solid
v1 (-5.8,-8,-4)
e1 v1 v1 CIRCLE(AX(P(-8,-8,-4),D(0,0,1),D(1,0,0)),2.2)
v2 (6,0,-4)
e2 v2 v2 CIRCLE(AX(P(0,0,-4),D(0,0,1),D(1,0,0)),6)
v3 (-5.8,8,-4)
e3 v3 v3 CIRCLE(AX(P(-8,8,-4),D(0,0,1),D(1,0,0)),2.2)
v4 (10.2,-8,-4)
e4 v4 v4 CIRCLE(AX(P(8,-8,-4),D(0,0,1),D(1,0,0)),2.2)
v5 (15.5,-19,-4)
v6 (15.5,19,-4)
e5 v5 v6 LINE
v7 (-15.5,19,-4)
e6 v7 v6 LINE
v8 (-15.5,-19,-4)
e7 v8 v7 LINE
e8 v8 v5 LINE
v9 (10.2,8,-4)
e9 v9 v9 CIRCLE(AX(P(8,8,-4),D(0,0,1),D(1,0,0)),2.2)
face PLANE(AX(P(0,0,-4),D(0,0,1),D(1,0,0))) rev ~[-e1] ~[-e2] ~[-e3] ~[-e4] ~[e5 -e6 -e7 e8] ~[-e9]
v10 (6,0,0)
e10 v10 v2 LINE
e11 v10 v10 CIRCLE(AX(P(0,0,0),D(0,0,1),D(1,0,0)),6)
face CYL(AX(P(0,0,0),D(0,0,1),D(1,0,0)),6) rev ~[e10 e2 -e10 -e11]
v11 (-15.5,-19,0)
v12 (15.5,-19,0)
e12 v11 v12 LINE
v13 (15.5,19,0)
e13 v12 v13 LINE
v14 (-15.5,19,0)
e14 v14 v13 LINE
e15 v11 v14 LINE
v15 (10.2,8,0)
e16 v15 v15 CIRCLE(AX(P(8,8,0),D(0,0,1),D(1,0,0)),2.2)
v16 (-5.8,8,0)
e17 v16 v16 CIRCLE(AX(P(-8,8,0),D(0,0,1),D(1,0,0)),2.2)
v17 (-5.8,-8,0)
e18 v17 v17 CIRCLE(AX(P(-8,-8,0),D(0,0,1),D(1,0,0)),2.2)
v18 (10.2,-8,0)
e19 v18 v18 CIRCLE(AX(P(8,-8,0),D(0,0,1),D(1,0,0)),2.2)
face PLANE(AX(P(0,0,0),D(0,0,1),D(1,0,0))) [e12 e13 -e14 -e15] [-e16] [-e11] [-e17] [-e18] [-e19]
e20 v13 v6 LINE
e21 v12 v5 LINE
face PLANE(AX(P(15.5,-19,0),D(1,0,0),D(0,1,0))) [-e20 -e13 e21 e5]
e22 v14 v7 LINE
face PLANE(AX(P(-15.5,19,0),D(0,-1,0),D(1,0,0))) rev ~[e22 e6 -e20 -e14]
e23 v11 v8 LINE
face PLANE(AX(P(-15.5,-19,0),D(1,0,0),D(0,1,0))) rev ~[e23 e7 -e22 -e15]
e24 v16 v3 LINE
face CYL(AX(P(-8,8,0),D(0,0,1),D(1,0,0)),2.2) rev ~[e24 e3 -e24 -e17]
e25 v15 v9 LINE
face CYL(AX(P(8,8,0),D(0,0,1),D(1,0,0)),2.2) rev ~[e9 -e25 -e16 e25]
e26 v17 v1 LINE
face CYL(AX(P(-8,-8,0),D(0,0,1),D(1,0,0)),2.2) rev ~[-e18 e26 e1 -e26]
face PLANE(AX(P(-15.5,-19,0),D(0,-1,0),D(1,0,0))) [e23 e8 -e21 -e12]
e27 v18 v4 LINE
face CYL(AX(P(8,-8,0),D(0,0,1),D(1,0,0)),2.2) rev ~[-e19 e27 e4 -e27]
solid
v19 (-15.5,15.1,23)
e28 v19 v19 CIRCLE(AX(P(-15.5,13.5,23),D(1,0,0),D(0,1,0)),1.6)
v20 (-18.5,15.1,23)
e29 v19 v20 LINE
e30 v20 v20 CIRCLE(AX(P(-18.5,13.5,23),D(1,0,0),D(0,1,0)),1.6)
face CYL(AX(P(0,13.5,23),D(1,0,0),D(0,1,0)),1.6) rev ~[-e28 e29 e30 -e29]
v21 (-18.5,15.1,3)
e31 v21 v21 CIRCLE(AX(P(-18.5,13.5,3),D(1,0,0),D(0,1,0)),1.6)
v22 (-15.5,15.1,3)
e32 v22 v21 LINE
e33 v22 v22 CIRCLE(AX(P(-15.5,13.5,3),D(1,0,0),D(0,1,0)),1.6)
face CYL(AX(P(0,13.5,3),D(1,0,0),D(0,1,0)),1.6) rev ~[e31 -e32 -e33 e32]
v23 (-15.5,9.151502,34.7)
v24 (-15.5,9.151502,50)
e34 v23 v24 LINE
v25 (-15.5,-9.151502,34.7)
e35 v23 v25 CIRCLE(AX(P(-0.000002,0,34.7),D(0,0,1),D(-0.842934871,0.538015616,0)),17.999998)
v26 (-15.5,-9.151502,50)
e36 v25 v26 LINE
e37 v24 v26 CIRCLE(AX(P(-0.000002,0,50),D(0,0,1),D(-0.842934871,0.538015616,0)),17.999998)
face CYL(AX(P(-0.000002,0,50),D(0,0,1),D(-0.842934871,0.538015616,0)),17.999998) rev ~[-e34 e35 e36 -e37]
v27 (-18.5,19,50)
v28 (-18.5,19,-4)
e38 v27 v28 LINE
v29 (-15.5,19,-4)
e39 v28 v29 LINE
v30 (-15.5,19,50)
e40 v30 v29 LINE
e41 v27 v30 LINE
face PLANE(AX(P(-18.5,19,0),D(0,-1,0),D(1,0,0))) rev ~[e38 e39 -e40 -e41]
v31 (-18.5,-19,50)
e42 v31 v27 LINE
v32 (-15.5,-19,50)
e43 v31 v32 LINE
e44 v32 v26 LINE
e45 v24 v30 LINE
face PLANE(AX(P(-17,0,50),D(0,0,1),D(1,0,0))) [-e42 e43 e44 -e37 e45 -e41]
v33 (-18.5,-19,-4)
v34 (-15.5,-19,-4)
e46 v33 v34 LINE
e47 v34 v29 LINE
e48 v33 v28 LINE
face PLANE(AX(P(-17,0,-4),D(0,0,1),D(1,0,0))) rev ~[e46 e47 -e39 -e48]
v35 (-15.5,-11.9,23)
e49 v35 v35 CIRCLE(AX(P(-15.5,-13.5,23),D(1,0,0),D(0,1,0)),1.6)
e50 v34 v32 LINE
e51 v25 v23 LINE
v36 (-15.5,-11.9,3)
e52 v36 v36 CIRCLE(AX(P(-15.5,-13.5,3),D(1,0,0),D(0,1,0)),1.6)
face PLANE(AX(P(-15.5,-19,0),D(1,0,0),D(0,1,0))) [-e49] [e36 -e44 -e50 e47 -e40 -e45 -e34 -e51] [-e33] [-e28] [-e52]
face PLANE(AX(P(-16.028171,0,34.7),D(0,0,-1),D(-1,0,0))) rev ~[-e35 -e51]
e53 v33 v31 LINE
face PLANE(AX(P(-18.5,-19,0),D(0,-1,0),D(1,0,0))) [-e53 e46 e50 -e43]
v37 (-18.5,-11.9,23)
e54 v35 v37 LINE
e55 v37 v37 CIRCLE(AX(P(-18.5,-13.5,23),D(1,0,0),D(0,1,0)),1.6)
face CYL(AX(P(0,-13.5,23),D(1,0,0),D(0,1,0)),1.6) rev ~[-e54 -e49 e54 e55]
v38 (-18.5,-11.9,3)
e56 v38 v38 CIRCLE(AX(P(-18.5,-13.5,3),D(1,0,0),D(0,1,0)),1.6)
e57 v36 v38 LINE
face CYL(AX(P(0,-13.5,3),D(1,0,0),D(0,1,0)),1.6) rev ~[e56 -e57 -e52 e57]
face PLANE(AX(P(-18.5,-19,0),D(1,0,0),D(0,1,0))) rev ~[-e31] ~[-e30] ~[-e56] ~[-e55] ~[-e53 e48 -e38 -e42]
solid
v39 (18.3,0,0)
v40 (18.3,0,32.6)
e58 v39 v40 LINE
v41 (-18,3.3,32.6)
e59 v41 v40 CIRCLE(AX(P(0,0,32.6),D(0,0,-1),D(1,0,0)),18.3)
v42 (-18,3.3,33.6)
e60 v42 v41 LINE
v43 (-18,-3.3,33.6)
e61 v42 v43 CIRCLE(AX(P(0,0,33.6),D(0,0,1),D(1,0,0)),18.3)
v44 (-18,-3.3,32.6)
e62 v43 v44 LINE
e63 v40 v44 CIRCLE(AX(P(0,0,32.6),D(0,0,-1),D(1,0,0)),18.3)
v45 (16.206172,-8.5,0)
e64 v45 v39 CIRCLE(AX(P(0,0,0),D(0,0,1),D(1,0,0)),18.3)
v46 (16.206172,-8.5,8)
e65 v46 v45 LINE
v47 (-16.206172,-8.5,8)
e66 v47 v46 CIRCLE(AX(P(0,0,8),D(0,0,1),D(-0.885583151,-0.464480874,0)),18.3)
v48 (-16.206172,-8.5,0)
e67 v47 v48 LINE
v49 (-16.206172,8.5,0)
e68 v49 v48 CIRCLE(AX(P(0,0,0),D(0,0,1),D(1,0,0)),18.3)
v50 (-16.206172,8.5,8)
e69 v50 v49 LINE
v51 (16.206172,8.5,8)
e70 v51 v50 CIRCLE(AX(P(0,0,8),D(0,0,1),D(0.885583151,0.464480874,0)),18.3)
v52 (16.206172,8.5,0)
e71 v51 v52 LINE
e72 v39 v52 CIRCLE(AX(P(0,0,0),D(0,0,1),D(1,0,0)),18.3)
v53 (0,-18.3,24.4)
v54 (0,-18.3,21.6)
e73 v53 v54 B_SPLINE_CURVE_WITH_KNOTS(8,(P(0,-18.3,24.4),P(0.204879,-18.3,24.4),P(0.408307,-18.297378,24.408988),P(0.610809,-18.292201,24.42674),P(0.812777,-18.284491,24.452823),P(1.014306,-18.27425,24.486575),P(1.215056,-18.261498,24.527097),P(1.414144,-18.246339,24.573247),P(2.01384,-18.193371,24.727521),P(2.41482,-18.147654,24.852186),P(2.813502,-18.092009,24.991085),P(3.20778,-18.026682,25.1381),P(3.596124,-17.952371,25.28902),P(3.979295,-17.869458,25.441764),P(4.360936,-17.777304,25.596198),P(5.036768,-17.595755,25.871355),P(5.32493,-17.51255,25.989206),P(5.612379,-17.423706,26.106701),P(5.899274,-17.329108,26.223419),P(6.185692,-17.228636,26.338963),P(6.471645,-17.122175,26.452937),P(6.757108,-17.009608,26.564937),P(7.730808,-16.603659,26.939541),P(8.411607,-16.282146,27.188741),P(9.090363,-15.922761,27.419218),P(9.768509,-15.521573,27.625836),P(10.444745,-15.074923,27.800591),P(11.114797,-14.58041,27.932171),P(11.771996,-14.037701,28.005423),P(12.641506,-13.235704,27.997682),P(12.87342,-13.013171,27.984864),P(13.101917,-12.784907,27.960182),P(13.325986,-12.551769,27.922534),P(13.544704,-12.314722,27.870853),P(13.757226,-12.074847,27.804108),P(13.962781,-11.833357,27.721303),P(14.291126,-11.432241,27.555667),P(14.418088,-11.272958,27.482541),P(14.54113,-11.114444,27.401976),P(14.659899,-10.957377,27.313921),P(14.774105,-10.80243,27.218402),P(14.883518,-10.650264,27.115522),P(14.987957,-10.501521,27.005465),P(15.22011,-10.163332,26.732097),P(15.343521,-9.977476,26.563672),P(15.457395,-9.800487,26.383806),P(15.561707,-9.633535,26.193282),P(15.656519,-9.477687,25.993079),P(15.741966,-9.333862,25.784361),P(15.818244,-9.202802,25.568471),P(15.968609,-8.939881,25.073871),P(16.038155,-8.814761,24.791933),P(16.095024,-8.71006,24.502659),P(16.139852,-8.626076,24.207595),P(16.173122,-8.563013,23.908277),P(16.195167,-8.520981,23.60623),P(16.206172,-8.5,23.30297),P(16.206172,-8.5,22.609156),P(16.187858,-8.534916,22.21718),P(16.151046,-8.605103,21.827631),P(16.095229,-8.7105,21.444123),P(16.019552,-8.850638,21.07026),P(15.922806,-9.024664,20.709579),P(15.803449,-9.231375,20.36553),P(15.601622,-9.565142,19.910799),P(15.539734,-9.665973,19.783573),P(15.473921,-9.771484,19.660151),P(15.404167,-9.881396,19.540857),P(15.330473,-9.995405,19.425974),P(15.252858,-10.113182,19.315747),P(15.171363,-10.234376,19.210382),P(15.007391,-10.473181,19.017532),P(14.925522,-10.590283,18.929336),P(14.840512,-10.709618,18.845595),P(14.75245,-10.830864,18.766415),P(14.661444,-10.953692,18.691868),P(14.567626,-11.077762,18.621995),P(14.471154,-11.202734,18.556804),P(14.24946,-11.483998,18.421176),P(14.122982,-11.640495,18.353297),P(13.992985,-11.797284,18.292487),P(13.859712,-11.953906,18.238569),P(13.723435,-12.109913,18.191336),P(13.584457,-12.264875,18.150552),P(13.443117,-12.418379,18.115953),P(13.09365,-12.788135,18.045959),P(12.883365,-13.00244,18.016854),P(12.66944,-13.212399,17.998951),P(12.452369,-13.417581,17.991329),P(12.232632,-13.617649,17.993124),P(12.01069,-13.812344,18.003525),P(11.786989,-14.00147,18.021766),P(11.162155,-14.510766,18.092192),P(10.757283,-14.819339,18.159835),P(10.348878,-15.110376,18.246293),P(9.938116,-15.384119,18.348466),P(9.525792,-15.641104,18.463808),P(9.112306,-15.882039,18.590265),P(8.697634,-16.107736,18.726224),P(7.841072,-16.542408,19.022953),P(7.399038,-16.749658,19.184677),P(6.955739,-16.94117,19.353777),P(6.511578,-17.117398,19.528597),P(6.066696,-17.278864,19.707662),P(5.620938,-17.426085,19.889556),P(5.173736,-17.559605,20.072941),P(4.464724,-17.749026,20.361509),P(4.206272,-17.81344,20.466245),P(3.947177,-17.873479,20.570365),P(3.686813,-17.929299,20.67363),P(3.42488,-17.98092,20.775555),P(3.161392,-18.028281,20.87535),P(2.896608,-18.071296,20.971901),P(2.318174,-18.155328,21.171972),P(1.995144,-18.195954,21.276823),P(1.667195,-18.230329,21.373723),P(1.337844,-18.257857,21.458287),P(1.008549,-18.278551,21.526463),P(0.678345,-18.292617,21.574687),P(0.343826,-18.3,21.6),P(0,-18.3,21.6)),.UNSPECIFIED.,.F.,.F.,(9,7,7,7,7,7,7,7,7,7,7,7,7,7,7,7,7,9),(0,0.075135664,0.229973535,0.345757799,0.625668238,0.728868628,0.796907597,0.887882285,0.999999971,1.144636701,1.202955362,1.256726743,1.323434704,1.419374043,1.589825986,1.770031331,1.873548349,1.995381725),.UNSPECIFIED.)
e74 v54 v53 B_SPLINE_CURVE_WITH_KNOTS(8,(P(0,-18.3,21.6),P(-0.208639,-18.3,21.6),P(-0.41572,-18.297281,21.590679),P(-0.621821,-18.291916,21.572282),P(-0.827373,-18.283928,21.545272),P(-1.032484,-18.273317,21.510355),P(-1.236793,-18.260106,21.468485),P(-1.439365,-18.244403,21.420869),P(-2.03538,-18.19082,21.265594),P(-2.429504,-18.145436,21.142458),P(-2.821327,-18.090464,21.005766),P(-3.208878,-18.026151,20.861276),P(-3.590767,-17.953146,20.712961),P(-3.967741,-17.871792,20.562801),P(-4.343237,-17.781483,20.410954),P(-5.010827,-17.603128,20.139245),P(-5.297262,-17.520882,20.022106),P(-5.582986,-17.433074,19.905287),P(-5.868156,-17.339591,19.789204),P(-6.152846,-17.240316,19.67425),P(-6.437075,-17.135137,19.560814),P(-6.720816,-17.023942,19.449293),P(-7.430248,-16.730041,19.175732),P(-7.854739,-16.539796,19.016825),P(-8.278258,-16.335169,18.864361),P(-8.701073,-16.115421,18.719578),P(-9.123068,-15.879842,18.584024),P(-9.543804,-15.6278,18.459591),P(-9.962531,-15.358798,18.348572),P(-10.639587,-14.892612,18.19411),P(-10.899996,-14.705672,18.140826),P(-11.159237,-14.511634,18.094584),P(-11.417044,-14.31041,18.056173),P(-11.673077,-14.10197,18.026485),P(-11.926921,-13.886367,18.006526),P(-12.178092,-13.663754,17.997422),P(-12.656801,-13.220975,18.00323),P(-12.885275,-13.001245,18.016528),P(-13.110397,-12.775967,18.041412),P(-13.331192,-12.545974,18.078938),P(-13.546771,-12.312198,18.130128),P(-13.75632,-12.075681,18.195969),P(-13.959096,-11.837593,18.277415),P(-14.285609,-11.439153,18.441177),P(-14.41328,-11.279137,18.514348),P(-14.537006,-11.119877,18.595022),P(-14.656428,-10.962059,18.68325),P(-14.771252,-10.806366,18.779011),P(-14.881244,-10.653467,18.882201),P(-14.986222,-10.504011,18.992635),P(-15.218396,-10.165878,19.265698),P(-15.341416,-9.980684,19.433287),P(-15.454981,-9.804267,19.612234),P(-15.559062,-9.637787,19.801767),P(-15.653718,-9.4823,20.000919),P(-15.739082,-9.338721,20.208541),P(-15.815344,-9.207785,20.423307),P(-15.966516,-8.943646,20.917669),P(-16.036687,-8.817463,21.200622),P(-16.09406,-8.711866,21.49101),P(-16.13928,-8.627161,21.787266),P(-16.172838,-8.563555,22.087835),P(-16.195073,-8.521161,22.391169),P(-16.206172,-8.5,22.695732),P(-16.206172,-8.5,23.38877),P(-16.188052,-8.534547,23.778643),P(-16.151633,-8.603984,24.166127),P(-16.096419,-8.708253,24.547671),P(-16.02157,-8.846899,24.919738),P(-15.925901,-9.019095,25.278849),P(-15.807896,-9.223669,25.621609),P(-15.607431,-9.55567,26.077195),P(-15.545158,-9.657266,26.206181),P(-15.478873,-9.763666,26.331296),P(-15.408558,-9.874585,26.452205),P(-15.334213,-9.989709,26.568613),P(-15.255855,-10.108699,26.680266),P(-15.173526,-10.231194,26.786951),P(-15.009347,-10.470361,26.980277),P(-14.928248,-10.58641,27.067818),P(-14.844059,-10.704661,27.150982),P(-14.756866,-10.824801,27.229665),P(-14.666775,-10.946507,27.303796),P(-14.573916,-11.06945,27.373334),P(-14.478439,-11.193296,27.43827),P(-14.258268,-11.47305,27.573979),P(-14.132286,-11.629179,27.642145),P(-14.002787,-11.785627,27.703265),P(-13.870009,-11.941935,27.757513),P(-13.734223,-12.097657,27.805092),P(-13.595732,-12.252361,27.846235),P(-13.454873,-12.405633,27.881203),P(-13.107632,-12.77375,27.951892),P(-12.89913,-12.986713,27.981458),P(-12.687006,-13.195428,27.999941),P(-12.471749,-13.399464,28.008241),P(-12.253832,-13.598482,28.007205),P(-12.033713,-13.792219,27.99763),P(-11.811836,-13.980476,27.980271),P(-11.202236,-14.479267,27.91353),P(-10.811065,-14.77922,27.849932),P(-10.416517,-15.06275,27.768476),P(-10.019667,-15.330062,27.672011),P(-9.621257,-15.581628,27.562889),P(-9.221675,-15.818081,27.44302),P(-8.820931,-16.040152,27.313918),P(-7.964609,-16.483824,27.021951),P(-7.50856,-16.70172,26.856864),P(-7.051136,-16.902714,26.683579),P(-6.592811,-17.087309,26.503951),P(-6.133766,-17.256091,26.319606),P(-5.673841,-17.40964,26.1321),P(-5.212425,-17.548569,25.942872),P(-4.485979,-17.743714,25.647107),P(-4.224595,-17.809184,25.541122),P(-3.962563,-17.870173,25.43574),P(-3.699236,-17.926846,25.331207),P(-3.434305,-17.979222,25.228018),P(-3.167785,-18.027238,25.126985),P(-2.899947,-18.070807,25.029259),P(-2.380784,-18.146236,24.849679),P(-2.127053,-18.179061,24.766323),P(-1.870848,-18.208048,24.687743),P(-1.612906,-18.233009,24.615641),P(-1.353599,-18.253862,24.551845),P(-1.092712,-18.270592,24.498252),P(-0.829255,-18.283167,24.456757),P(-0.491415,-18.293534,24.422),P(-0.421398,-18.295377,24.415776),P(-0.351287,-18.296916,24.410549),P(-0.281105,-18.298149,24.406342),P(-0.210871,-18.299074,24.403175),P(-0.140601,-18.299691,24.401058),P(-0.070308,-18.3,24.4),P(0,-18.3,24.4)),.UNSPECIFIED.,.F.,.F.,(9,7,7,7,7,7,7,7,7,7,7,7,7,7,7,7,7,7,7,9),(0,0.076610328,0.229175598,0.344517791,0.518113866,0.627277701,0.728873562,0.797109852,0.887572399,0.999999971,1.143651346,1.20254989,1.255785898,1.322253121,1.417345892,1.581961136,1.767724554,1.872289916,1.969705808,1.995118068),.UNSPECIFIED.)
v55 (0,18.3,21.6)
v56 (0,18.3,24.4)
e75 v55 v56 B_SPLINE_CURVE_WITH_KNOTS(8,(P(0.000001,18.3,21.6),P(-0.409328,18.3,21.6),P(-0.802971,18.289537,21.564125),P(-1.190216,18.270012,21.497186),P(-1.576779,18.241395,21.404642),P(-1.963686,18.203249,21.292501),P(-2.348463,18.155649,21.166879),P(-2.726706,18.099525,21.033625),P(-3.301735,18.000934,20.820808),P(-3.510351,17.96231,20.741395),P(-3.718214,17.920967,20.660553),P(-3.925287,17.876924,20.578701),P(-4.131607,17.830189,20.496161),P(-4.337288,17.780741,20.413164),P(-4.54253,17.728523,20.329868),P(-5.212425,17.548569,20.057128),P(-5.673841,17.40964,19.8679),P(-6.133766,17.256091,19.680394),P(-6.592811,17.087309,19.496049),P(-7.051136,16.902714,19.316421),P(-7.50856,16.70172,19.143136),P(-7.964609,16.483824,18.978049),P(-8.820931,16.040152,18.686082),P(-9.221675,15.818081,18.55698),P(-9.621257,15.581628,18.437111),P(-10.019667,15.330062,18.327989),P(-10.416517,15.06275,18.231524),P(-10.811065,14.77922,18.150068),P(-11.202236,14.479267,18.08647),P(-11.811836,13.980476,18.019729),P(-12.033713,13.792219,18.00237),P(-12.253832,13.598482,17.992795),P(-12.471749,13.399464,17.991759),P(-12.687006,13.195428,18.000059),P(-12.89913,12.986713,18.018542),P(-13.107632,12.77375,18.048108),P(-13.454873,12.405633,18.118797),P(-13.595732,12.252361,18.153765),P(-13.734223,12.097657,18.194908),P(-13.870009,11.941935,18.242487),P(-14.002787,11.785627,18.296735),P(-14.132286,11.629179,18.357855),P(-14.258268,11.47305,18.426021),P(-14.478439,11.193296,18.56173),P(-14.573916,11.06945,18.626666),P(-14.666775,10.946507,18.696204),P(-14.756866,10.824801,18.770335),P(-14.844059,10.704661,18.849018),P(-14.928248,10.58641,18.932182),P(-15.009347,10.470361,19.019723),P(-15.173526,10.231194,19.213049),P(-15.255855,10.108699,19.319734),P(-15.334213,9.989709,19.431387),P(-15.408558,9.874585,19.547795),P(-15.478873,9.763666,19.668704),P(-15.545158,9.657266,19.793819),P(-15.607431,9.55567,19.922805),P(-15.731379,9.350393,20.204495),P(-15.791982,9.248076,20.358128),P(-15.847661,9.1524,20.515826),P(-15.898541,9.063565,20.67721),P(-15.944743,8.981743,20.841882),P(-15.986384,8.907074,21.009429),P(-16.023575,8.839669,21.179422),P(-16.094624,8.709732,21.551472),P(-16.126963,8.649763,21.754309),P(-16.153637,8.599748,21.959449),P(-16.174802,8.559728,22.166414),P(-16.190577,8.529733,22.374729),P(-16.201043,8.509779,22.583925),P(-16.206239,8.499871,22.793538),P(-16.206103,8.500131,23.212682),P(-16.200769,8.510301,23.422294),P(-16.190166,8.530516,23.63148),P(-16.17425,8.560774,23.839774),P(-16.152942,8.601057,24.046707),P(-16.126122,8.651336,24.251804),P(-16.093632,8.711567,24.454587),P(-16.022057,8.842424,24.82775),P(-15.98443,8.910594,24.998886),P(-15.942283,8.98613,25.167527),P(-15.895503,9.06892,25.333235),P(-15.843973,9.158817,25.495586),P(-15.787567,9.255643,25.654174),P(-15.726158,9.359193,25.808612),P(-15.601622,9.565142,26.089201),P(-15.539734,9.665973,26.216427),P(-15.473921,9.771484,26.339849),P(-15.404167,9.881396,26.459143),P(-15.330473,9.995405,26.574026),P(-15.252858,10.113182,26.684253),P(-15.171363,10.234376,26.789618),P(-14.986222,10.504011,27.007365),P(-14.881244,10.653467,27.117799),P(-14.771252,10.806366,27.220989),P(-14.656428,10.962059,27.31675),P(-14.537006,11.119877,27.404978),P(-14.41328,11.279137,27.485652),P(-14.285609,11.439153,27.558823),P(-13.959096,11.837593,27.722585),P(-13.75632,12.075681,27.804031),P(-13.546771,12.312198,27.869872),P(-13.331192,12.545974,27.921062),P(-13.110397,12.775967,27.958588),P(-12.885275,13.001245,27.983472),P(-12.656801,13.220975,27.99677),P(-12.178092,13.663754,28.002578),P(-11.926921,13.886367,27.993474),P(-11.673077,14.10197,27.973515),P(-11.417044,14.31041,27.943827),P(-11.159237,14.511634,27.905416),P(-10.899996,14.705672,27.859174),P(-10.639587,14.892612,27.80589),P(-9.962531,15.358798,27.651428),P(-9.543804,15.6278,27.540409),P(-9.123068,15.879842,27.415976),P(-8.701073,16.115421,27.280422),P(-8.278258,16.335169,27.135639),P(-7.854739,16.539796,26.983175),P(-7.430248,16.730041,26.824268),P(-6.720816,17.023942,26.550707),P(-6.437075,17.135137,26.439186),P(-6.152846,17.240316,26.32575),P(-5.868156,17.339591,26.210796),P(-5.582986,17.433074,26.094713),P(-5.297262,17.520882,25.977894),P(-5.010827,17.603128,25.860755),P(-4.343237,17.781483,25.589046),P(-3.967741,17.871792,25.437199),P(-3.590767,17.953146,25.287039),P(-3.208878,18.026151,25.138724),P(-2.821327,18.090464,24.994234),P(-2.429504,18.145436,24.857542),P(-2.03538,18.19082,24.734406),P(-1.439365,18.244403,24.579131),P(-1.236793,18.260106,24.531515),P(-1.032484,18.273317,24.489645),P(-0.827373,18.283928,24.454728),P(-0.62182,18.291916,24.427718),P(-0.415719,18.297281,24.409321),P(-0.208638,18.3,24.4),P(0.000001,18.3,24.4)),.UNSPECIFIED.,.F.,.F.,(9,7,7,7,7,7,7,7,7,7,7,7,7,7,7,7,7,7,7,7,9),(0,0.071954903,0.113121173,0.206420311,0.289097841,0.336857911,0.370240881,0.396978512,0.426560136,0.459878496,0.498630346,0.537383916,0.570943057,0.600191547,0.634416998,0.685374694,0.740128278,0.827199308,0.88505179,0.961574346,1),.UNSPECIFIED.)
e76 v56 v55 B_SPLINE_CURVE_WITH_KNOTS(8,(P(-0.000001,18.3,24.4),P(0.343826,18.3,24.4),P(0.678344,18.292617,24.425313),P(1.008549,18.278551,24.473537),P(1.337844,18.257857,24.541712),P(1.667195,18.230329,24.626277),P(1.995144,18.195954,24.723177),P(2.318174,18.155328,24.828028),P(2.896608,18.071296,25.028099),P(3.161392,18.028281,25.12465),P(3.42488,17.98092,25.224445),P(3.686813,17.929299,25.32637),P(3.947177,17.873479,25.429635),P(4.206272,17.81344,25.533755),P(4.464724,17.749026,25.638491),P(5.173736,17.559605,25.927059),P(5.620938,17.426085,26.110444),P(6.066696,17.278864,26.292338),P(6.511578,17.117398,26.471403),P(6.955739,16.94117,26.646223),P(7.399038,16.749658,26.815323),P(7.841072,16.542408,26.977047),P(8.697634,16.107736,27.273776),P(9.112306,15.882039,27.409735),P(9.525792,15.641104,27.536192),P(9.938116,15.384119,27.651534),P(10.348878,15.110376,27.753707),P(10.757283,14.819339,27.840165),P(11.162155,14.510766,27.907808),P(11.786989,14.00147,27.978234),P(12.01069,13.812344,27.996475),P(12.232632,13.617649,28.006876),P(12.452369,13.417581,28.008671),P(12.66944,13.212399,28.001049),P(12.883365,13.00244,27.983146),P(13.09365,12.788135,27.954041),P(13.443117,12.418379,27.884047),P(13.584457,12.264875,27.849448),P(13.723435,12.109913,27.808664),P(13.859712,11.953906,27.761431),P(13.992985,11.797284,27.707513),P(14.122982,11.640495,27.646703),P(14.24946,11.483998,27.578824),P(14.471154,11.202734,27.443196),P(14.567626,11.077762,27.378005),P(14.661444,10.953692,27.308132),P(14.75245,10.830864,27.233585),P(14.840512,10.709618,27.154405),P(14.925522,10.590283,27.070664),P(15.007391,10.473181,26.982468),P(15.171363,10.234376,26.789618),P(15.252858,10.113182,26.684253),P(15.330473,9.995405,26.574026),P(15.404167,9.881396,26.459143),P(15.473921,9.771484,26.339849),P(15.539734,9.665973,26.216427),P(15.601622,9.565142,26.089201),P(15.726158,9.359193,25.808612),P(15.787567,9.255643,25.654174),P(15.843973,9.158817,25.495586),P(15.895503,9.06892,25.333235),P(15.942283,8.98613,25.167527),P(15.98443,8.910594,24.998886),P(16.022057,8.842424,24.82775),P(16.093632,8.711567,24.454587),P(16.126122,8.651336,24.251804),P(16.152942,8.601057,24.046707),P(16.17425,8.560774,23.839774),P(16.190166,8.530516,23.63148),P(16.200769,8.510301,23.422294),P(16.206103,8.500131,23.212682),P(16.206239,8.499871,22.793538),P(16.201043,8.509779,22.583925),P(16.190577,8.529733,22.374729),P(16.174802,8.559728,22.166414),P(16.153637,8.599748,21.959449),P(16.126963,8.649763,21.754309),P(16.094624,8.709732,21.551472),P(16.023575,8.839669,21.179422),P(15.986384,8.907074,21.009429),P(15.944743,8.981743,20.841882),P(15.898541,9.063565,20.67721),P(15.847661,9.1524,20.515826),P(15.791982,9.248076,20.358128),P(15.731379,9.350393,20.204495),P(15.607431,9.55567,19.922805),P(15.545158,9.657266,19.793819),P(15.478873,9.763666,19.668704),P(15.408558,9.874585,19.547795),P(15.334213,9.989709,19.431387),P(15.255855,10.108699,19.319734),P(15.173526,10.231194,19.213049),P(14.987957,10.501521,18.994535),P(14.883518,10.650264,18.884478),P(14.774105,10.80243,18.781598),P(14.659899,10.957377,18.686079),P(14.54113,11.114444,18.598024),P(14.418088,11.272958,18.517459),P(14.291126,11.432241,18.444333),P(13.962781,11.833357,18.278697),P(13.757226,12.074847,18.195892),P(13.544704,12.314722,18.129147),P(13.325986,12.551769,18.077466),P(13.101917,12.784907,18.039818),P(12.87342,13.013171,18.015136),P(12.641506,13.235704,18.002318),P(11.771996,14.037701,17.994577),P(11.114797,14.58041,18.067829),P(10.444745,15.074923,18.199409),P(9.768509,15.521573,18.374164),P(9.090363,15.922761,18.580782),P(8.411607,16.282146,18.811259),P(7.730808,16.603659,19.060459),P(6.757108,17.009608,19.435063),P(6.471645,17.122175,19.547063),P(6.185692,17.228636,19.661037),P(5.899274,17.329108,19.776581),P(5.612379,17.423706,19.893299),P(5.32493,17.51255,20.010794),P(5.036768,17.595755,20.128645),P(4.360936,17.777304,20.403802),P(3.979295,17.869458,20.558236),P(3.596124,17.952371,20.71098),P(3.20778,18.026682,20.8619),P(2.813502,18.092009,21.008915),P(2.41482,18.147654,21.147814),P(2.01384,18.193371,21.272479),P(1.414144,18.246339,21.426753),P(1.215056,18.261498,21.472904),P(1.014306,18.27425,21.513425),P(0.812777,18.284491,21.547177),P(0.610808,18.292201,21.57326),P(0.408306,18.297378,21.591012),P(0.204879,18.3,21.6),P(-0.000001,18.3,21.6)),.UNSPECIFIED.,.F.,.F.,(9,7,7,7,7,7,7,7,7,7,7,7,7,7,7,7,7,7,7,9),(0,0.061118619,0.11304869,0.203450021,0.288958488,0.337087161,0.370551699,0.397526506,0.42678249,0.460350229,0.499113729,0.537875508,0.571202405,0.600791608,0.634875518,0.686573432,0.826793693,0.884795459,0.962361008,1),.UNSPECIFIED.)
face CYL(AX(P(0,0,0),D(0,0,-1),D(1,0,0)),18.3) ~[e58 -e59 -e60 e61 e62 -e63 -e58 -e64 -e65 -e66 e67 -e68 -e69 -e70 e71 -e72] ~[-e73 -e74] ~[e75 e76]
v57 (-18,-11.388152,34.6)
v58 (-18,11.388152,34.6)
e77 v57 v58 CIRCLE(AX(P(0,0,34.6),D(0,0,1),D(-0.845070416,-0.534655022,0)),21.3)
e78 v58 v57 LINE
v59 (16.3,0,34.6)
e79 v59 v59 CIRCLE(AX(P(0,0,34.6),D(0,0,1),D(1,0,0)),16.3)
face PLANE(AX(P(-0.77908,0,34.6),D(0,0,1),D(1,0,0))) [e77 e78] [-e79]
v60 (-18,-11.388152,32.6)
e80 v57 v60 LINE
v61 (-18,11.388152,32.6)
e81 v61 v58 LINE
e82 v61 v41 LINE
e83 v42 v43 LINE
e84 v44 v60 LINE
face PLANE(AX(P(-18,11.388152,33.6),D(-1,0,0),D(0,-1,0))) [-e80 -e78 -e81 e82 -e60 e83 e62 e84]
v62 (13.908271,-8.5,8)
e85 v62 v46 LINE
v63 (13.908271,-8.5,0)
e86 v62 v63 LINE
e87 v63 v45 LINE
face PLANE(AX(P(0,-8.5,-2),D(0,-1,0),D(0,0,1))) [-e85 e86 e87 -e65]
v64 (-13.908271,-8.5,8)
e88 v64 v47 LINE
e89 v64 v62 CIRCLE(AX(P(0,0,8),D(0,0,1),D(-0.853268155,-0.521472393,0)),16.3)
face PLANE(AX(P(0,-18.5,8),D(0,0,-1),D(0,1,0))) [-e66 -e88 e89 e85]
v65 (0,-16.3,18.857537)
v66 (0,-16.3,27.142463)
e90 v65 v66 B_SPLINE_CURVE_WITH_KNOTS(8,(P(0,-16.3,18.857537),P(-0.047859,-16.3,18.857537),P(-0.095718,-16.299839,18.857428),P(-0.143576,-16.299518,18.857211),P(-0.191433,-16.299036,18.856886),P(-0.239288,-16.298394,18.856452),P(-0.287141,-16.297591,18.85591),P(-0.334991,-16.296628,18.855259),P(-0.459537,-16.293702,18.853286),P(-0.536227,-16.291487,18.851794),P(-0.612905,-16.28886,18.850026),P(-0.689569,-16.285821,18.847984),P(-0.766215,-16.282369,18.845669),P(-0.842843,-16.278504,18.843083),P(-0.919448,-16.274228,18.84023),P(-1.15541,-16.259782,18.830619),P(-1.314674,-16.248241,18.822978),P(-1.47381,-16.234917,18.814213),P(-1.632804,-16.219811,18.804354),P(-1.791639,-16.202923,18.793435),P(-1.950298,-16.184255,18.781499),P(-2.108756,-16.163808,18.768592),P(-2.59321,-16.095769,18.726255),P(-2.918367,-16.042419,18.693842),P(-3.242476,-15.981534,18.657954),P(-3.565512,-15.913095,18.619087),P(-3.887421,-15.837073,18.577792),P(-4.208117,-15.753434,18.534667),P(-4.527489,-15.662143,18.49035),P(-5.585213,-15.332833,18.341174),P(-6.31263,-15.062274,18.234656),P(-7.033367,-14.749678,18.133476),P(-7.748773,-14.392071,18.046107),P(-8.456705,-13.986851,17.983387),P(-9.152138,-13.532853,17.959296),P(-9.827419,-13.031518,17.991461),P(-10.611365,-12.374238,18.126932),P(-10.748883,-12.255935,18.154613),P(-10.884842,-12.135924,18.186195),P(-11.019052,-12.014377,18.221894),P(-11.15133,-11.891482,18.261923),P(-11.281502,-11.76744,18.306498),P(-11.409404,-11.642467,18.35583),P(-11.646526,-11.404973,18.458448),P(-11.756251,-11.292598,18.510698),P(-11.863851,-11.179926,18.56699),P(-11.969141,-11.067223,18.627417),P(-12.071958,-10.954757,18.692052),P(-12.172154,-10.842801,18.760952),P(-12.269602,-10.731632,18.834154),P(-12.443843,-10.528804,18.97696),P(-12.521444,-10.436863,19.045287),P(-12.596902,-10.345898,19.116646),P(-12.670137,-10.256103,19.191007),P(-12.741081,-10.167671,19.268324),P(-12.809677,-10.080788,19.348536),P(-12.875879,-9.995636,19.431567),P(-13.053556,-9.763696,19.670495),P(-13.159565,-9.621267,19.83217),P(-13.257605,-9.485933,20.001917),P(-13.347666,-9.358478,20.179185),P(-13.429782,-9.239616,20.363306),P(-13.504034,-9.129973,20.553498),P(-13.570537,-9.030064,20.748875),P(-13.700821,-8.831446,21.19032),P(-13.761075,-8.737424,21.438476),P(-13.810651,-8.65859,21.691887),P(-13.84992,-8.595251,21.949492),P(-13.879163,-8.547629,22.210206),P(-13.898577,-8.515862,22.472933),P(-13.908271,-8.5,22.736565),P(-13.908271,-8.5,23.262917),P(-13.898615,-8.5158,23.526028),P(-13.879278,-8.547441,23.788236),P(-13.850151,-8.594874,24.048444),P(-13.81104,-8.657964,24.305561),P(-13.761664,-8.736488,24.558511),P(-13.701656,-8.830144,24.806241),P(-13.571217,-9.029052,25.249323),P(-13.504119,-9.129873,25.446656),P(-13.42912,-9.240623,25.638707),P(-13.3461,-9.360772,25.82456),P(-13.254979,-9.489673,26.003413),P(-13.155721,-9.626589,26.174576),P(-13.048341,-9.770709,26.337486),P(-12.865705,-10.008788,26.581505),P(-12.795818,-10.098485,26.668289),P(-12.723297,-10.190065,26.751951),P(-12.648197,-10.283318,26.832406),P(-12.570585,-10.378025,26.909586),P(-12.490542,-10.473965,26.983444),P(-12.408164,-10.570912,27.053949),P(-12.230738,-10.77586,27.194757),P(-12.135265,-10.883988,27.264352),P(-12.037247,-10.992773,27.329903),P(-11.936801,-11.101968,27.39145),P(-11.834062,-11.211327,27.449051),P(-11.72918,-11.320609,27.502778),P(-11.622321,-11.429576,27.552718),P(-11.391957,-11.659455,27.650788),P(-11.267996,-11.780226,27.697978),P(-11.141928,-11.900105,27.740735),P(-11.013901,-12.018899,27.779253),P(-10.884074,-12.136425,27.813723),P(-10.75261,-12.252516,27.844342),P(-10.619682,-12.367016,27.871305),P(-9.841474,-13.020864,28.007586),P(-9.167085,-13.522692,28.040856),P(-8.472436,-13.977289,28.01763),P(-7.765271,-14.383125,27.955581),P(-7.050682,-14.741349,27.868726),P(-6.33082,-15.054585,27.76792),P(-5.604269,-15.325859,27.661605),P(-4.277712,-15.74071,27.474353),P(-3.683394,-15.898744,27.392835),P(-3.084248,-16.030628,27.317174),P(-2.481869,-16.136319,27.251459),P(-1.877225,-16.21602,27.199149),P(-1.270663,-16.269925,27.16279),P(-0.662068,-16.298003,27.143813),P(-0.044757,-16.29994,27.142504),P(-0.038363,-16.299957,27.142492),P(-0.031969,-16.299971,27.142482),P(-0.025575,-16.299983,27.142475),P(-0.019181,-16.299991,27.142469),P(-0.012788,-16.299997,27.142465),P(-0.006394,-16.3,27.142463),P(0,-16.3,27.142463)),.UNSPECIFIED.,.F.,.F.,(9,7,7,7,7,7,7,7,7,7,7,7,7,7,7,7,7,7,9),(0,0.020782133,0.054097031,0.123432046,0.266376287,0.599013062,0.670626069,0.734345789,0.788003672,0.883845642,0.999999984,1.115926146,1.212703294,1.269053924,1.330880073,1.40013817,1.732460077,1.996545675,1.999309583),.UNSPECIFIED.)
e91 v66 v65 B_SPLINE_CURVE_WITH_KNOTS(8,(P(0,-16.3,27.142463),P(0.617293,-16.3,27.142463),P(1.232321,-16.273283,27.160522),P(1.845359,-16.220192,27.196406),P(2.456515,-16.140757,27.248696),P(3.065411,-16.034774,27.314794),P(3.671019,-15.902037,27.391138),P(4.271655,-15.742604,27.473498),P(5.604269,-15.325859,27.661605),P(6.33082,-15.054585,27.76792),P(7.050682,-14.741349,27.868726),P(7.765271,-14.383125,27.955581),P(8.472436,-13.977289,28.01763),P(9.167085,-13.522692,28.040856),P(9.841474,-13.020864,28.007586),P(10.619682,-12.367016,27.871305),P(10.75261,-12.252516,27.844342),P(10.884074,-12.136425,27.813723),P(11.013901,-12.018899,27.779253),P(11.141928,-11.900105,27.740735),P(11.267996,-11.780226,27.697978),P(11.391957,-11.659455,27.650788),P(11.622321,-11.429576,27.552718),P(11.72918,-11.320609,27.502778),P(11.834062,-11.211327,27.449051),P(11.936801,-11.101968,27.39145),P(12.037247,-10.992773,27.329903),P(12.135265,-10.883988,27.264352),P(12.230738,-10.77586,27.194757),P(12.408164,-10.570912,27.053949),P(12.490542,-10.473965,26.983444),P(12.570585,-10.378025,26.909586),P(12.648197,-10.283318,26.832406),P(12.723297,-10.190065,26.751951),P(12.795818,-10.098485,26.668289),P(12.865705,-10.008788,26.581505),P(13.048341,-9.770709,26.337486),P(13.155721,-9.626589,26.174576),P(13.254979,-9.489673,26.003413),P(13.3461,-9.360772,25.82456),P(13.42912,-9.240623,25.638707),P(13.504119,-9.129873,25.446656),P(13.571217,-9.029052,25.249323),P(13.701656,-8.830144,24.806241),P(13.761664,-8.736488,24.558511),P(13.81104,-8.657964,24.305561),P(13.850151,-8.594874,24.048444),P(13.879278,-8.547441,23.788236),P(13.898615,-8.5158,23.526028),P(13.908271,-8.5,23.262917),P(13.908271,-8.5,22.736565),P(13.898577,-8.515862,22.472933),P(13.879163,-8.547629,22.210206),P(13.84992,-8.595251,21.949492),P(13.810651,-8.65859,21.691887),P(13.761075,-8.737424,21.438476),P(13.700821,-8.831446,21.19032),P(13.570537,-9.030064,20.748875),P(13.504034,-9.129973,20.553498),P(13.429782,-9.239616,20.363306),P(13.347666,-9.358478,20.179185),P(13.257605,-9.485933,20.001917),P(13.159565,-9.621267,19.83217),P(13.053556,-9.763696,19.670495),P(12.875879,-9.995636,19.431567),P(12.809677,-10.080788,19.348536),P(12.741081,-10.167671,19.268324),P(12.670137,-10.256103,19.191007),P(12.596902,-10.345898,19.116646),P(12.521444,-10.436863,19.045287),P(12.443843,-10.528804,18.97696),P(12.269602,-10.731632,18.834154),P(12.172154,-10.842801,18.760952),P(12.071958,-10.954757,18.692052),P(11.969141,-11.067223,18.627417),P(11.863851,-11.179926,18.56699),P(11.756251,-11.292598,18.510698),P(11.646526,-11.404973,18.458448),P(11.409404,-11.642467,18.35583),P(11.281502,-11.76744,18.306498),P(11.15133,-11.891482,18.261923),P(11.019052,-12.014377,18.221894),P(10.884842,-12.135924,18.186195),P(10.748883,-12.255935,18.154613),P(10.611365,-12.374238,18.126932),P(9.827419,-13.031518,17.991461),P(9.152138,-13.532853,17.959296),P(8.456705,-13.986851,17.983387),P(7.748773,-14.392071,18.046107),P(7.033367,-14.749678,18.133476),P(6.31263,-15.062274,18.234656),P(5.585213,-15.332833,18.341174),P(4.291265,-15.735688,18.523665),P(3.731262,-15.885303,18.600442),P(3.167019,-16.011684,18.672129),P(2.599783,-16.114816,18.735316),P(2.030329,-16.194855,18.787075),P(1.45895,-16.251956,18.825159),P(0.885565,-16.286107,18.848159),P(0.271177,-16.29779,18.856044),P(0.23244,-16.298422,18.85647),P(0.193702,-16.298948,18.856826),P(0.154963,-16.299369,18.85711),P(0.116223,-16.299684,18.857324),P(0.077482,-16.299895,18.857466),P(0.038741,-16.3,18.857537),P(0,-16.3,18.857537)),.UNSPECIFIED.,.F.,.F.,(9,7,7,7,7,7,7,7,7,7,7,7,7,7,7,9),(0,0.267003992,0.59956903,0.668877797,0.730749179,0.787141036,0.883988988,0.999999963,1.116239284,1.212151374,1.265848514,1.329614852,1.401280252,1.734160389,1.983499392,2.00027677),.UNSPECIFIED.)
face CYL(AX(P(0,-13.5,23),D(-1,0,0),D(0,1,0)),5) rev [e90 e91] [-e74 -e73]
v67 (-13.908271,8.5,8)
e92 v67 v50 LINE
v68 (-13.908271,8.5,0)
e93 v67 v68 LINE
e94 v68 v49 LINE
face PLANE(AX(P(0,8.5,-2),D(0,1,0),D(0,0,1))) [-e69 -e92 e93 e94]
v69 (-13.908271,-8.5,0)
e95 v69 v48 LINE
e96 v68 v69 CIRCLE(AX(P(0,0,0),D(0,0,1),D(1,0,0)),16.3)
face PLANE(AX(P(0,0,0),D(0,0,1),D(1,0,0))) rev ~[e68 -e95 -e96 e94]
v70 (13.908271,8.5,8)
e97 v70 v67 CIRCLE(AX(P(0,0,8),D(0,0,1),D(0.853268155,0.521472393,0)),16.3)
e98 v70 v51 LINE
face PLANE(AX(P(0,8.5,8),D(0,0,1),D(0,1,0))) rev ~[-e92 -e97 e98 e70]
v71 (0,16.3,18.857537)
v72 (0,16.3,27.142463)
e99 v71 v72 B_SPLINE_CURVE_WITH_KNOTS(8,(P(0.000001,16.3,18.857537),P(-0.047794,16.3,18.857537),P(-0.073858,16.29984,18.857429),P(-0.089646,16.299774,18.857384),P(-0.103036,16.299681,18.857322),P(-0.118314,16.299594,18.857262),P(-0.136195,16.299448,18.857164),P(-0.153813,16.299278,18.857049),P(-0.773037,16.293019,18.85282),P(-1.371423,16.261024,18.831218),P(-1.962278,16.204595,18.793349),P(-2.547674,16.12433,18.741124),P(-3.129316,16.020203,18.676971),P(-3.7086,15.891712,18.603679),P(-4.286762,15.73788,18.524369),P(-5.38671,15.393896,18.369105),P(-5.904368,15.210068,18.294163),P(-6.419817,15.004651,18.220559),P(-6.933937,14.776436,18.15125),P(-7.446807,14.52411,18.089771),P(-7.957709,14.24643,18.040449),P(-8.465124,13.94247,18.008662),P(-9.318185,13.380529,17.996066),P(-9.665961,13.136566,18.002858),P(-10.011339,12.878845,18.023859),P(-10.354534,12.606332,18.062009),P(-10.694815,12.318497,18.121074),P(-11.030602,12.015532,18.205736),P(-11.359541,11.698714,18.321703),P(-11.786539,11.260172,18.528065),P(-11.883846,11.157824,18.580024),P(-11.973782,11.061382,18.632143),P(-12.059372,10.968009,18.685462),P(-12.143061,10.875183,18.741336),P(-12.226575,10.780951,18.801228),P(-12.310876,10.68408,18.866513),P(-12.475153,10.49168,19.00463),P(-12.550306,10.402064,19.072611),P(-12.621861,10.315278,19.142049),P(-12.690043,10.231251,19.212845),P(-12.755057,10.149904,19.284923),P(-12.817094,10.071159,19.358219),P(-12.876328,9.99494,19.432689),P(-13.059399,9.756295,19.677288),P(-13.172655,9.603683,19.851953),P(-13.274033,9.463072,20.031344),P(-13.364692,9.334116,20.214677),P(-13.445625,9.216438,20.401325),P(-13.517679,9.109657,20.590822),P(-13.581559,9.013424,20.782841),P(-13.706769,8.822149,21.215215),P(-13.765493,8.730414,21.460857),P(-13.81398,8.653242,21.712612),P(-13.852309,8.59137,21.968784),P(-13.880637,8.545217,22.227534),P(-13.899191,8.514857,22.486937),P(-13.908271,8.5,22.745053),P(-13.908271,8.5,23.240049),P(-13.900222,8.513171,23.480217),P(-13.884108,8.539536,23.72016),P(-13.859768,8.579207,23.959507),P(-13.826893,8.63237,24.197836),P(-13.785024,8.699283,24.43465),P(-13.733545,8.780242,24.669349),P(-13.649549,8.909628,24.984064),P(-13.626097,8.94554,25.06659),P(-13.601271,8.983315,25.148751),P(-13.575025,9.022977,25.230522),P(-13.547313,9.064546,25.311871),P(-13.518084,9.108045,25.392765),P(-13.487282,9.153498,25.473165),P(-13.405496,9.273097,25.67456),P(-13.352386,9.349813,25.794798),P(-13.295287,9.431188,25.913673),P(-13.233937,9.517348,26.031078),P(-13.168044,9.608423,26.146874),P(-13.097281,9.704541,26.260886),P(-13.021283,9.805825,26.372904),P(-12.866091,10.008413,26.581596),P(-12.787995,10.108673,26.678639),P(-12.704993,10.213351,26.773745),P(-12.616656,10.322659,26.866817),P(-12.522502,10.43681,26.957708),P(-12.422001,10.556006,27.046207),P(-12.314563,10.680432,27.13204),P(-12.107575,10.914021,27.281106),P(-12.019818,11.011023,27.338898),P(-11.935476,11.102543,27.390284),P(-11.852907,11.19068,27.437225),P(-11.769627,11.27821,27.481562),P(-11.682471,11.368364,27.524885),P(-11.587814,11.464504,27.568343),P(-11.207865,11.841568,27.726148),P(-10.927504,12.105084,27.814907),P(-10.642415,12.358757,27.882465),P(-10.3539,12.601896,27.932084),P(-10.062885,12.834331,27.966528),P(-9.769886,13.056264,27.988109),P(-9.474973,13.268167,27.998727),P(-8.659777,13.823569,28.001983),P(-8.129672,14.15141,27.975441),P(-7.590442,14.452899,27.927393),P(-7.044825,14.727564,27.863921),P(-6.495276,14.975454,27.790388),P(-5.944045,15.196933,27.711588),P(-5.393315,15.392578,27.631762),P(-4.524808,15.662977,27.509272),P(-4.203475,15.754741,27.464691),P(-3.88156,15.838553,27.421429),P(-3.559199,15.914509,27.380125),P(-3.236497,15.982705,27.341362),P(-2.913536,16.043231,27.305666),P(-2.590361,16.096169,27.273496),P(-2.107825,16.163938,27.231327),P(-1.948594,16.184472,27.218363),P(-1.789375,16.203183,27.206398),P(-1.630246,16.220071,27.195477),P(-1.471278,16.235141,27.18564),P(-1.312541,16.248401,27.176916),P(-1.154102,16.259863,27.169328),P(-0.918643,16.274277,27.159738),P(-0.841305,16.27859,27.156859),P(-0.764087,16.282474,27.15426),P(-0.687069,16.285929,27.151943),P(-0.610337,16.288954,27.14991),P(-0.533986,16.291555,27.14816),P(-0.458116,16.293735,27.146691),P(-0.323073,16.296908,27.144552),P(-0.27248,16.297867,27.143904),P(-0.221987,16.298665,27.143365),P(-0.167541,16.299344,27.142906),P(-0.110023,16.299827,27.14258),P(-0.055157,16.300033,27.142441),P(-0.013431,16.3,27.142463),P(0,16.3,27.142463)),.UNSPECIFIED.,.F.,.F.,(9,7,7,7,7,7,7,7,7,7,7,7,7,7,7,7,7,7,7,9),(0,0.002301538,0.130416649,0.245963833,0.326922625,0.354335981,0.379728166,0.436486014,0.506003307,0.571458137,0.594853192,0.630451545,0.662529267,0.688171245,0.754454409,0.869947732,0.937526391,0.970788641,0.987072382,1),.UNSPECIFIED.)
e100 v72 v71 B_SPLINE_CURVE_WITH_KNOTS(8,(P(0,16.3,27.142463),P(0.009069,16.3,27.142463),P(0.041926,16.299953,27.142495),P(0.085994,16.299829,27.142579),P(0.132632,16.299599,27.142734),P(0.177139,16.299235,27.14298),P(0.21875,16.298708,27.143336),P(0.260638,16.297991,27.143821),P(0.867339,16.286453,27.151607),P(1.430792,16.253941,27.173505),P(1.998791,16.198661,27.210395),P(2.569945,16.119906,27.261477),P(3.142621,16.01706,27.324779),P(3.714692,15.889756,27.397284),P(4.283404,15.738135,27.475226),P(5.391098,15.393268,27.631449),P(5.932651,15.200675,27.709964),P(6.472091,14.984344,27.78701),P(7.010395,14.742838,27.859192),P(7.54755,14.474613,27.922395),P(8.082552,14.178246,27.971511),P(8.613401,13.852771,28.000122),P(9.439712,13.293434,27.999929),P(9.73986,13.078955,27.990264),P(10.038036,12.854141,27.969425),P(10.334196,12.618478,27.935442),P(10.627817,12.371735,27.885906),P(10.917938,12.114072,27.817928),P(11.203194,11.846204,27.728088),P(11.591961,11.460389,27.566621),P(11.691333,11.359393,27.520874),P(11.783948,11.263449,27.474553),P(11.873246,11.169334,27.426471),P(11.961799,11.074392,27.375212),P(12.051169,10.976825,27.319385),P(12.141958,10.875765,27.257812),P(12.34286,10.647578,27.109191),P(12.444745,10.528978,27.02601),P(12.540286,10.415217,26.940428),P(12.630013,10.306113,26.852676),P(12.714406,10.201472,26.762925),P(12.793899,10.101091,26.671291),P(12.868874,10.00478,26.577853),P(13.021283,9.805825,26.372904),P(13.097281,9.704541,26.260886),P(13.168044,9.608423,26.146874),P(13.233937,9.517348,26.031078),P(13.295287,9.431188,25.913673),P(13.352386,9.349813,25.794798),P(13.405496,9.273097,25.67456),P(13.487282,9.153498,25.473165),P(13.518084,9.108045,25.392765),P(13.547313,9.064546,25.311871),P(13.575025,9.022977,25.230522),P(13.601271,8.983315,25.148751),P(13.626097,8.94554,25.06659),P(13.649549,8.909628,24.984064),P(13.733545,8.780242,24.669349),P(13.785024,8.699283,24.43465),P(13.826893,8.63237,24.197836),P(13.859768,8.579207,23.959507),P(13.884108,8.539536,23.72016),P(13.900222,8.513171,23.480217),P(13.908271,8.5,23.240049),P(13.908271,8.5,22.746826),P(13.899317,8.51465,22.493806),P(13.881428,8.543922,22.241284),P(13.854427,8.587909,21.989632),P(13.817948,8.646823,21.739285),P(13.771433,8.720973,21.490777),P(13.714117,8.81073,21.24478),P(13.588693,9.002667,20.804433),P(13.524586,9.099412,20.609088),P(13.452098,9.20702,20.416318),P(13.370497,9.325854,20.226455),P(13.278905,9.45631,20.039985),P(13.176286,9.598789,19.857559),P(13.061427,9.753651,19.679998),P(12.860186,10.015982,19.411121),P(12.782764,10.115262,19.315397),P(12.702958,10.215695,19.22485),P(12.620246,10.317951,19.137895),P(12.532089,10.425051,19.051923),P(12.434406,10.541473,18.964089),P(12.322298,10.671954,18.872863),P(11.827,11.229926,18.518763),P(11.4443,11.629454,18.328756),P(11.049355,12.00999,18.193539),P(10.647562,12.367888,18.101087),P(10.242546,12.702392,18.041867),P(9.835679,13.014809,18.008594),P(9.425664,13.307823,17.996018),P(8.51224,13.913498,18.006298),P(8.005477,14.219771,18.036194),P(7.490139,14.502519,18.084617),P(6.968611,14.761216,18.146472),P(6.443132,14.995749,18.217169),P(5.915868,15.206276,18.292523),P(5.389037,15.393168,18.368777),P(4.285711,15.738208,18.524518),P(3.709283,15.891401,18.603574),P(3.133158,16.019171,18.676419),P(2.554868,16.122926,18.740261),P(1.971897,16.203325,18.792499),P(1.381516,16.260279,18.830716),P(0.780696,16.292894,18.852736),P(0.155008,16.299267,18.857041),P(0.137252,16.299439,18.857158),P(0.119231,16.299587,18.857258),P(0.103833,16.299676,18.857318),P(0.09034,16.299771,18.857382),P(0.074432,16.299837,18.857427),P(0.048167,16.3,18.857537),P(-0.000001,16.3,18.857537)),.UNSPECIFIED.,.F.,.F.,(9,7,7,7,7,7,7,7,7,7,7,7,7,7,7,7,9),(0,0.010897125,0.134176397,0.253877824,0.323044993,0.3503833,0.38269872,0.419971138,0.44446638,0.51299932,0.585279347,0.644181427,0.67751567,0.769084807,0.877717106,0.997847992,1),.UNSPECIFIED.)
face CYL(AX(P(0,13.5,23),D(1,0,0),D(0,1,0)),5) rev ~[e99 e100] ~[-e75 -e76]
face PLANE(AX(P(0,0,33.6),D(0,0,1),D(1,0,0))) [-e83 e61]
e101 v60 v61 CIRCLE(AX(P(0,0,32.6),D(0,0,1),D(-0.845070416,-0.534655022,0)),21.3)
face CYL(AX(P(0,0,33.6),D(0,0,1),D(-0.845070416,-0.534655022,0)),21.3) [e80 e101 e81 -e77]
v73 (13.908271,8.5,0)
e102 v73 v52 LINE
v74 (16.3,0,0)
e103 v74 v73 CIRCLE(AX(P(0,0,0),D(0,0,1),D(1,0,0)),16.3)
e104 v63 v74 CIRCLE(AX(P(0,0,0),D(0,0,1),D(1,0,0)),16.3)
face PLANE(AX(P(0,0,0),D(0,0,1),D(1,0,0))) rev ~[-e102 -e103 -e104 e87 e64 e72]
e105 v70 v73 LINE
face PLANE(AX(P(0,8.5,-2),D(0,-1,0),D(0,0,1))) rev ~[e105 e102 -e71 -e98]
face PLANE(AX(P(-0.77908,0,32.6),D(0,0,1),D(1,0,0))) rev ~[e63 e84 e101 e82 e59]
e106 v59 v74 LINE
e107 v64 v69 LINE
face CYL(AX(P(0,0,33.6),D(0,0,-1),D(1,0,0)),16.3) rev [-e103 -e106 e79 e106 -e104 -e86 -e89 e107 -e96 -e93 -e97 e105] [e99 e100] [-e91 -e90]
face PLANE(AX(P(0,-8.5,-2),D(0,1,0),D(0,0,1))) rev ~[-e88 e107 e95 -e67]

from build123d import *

# Parameters (mm, degrees)
SKETCH002_R       = 18.3
SKETCH002_R_2     = 16.3
PAD002_DEPTH      = 33.6
SKETCH003_R       = 5
SKETCH003_W       = 10
SKETCH003_H       = 10
POCKET_DEPTH      = 18.301
POCKET_DEPTH_BACK = 18.301
SKETCH005_R       = 16.3
PAD003_DEPTH      = 1
SKETCH_W          = 31
SKETCH_H          = 38
SKETCH_R          = 6
SKETCH_R_2        = 2.2
PAD_DEPTH         = 4
SKETCH001_W       = 3
SKETCH001_H       = 38
PAD001_DEPTH      = 50
PAD001_DEPTH_BACK = 4
SKETCH004_R       = 1.6
POCKET001_DEPTH   = 18.501
POCKET002_DEPTH   = 15.3


with BuildPart() as cilindroreduccion:
    # Sketch002 → Pad002 (new body)
    with BuildSketch(Plane.XY):
        Circle(SKETCH002_R)
        Circle(SKETCH002_R_2, mode=Mode.SUBTRACT)
    extrude(amount=PAD002_DEPTH)

    # Sketch003 → Pocket (cut, two sides)
    with BuildSketch(Plane.YZ) as pocket_sk:
        with Locations((13.5, 23)):
            Circle(SKETCH003_R)
        with Locations((-13.5, 23)):
            Circle(SKETCH003_R)
        with Locations((13.5, 3)):
            Rectangle(SKETCH003_W, SKETCH003_H)
        with Locations((-13.5, 3)):
            Rectangle(SKETCH003_W, SKETCH003_H)
    extrude(amount=-POCKET_DEPTH, mode=Mode.SUBTRACT)
    extrude(pocket_sk.sketch, amount=POCKET_DEPTH_BACK, mode=Mode.SUBTRACT)

    # Sketch005 → Pad003 (join, symmetric)
    with BuildSketch(Plane.XY.offset(33.6)):
        with BuildLine():
            ThreePointArc((-18, -11.388152), (21.3, 0), (-18, 11.388152))
            Line((-18, 11.388152), (-18, -11.388152))
        make_face()
        Circle(SKETCH005_R, mode=Mode.SUBTRACT)
    extrude(amount=PAD003_DEPTH, both=True)


with BuildPart() as caratornillos:
    # Sketch → Pad (new body)
    with BuildSketch(Plane.XY):
        Rectangle(SKETCH_W, SKETCH_H)
        Circle(SKETCH_R, mode=Mode.SUBTRACT)
        with Locations((8, 8)):
            Circle(SKETCH_R_2, mode=Mode.SUBTRACT)
        with Locations((8, -8)):
            Circle(SKETCH_R_2, mode=Mode.SUBTRACT)
        with Locations((-8, 8)):
            Circle(SKETCH_R_2, mode=Mode.SUBTRACT)
        with Locations((-8, -8)):
            Circle(SKETCH_R_2, mode=Mode.SUBTRACT)
    extrude(amount=-PAD_DEPTH)


with BuildPart() as separador:
    # Sketch001 → Pad001 (new body, two sides)
    with BuildSketch(Plane.XY) as pad001_sk:
        with Locations((-17, 0)):
            Rectangle(SKETCH001_W, SKETCH001_H)
    extrude(amount=PAD001_DEPTH)
    extrude(pad001_sk.sketch, amount=-PAD001_DEPTH_BACK)

    # Sketch004 → Pocket001 (cut, through all)
    with BuildSketch(Plane.YZ):
        with Locations((13.5, 3)):
            Circle(SKETCH004_R)
        with Locations((-13.5, 3)):
            Circle(SKETCH004_R)
        with Locations((-13.5, 23)):
            Circle(SKETCH004_R)
        with Locations((13.5, 23)):
            Circle(SKETCH004_R)
    extrude(amount=-POCKET001_DEPTH, mode=Mode.SUBTRACT)

    # Sketch006 (on Face5 of Pocket001) → Pocket002 (cut)
    with BuildSketch(Plane.XY.offset(50)):
        with BuildLine():
            Line((-15.172828, 9.68428), (-15.172828, -9.68428))
            ThreePointArc((-15.172828, 9.68428), (-18, 0), (-15.172828, -9.68428))
        make_face()
    extrude(amount=-POCKET002_DEPTH, mode=Mode.SUBTRACT)


solid = Compound([cilindroreduccion.part, caratornillos.part, separador.part])
